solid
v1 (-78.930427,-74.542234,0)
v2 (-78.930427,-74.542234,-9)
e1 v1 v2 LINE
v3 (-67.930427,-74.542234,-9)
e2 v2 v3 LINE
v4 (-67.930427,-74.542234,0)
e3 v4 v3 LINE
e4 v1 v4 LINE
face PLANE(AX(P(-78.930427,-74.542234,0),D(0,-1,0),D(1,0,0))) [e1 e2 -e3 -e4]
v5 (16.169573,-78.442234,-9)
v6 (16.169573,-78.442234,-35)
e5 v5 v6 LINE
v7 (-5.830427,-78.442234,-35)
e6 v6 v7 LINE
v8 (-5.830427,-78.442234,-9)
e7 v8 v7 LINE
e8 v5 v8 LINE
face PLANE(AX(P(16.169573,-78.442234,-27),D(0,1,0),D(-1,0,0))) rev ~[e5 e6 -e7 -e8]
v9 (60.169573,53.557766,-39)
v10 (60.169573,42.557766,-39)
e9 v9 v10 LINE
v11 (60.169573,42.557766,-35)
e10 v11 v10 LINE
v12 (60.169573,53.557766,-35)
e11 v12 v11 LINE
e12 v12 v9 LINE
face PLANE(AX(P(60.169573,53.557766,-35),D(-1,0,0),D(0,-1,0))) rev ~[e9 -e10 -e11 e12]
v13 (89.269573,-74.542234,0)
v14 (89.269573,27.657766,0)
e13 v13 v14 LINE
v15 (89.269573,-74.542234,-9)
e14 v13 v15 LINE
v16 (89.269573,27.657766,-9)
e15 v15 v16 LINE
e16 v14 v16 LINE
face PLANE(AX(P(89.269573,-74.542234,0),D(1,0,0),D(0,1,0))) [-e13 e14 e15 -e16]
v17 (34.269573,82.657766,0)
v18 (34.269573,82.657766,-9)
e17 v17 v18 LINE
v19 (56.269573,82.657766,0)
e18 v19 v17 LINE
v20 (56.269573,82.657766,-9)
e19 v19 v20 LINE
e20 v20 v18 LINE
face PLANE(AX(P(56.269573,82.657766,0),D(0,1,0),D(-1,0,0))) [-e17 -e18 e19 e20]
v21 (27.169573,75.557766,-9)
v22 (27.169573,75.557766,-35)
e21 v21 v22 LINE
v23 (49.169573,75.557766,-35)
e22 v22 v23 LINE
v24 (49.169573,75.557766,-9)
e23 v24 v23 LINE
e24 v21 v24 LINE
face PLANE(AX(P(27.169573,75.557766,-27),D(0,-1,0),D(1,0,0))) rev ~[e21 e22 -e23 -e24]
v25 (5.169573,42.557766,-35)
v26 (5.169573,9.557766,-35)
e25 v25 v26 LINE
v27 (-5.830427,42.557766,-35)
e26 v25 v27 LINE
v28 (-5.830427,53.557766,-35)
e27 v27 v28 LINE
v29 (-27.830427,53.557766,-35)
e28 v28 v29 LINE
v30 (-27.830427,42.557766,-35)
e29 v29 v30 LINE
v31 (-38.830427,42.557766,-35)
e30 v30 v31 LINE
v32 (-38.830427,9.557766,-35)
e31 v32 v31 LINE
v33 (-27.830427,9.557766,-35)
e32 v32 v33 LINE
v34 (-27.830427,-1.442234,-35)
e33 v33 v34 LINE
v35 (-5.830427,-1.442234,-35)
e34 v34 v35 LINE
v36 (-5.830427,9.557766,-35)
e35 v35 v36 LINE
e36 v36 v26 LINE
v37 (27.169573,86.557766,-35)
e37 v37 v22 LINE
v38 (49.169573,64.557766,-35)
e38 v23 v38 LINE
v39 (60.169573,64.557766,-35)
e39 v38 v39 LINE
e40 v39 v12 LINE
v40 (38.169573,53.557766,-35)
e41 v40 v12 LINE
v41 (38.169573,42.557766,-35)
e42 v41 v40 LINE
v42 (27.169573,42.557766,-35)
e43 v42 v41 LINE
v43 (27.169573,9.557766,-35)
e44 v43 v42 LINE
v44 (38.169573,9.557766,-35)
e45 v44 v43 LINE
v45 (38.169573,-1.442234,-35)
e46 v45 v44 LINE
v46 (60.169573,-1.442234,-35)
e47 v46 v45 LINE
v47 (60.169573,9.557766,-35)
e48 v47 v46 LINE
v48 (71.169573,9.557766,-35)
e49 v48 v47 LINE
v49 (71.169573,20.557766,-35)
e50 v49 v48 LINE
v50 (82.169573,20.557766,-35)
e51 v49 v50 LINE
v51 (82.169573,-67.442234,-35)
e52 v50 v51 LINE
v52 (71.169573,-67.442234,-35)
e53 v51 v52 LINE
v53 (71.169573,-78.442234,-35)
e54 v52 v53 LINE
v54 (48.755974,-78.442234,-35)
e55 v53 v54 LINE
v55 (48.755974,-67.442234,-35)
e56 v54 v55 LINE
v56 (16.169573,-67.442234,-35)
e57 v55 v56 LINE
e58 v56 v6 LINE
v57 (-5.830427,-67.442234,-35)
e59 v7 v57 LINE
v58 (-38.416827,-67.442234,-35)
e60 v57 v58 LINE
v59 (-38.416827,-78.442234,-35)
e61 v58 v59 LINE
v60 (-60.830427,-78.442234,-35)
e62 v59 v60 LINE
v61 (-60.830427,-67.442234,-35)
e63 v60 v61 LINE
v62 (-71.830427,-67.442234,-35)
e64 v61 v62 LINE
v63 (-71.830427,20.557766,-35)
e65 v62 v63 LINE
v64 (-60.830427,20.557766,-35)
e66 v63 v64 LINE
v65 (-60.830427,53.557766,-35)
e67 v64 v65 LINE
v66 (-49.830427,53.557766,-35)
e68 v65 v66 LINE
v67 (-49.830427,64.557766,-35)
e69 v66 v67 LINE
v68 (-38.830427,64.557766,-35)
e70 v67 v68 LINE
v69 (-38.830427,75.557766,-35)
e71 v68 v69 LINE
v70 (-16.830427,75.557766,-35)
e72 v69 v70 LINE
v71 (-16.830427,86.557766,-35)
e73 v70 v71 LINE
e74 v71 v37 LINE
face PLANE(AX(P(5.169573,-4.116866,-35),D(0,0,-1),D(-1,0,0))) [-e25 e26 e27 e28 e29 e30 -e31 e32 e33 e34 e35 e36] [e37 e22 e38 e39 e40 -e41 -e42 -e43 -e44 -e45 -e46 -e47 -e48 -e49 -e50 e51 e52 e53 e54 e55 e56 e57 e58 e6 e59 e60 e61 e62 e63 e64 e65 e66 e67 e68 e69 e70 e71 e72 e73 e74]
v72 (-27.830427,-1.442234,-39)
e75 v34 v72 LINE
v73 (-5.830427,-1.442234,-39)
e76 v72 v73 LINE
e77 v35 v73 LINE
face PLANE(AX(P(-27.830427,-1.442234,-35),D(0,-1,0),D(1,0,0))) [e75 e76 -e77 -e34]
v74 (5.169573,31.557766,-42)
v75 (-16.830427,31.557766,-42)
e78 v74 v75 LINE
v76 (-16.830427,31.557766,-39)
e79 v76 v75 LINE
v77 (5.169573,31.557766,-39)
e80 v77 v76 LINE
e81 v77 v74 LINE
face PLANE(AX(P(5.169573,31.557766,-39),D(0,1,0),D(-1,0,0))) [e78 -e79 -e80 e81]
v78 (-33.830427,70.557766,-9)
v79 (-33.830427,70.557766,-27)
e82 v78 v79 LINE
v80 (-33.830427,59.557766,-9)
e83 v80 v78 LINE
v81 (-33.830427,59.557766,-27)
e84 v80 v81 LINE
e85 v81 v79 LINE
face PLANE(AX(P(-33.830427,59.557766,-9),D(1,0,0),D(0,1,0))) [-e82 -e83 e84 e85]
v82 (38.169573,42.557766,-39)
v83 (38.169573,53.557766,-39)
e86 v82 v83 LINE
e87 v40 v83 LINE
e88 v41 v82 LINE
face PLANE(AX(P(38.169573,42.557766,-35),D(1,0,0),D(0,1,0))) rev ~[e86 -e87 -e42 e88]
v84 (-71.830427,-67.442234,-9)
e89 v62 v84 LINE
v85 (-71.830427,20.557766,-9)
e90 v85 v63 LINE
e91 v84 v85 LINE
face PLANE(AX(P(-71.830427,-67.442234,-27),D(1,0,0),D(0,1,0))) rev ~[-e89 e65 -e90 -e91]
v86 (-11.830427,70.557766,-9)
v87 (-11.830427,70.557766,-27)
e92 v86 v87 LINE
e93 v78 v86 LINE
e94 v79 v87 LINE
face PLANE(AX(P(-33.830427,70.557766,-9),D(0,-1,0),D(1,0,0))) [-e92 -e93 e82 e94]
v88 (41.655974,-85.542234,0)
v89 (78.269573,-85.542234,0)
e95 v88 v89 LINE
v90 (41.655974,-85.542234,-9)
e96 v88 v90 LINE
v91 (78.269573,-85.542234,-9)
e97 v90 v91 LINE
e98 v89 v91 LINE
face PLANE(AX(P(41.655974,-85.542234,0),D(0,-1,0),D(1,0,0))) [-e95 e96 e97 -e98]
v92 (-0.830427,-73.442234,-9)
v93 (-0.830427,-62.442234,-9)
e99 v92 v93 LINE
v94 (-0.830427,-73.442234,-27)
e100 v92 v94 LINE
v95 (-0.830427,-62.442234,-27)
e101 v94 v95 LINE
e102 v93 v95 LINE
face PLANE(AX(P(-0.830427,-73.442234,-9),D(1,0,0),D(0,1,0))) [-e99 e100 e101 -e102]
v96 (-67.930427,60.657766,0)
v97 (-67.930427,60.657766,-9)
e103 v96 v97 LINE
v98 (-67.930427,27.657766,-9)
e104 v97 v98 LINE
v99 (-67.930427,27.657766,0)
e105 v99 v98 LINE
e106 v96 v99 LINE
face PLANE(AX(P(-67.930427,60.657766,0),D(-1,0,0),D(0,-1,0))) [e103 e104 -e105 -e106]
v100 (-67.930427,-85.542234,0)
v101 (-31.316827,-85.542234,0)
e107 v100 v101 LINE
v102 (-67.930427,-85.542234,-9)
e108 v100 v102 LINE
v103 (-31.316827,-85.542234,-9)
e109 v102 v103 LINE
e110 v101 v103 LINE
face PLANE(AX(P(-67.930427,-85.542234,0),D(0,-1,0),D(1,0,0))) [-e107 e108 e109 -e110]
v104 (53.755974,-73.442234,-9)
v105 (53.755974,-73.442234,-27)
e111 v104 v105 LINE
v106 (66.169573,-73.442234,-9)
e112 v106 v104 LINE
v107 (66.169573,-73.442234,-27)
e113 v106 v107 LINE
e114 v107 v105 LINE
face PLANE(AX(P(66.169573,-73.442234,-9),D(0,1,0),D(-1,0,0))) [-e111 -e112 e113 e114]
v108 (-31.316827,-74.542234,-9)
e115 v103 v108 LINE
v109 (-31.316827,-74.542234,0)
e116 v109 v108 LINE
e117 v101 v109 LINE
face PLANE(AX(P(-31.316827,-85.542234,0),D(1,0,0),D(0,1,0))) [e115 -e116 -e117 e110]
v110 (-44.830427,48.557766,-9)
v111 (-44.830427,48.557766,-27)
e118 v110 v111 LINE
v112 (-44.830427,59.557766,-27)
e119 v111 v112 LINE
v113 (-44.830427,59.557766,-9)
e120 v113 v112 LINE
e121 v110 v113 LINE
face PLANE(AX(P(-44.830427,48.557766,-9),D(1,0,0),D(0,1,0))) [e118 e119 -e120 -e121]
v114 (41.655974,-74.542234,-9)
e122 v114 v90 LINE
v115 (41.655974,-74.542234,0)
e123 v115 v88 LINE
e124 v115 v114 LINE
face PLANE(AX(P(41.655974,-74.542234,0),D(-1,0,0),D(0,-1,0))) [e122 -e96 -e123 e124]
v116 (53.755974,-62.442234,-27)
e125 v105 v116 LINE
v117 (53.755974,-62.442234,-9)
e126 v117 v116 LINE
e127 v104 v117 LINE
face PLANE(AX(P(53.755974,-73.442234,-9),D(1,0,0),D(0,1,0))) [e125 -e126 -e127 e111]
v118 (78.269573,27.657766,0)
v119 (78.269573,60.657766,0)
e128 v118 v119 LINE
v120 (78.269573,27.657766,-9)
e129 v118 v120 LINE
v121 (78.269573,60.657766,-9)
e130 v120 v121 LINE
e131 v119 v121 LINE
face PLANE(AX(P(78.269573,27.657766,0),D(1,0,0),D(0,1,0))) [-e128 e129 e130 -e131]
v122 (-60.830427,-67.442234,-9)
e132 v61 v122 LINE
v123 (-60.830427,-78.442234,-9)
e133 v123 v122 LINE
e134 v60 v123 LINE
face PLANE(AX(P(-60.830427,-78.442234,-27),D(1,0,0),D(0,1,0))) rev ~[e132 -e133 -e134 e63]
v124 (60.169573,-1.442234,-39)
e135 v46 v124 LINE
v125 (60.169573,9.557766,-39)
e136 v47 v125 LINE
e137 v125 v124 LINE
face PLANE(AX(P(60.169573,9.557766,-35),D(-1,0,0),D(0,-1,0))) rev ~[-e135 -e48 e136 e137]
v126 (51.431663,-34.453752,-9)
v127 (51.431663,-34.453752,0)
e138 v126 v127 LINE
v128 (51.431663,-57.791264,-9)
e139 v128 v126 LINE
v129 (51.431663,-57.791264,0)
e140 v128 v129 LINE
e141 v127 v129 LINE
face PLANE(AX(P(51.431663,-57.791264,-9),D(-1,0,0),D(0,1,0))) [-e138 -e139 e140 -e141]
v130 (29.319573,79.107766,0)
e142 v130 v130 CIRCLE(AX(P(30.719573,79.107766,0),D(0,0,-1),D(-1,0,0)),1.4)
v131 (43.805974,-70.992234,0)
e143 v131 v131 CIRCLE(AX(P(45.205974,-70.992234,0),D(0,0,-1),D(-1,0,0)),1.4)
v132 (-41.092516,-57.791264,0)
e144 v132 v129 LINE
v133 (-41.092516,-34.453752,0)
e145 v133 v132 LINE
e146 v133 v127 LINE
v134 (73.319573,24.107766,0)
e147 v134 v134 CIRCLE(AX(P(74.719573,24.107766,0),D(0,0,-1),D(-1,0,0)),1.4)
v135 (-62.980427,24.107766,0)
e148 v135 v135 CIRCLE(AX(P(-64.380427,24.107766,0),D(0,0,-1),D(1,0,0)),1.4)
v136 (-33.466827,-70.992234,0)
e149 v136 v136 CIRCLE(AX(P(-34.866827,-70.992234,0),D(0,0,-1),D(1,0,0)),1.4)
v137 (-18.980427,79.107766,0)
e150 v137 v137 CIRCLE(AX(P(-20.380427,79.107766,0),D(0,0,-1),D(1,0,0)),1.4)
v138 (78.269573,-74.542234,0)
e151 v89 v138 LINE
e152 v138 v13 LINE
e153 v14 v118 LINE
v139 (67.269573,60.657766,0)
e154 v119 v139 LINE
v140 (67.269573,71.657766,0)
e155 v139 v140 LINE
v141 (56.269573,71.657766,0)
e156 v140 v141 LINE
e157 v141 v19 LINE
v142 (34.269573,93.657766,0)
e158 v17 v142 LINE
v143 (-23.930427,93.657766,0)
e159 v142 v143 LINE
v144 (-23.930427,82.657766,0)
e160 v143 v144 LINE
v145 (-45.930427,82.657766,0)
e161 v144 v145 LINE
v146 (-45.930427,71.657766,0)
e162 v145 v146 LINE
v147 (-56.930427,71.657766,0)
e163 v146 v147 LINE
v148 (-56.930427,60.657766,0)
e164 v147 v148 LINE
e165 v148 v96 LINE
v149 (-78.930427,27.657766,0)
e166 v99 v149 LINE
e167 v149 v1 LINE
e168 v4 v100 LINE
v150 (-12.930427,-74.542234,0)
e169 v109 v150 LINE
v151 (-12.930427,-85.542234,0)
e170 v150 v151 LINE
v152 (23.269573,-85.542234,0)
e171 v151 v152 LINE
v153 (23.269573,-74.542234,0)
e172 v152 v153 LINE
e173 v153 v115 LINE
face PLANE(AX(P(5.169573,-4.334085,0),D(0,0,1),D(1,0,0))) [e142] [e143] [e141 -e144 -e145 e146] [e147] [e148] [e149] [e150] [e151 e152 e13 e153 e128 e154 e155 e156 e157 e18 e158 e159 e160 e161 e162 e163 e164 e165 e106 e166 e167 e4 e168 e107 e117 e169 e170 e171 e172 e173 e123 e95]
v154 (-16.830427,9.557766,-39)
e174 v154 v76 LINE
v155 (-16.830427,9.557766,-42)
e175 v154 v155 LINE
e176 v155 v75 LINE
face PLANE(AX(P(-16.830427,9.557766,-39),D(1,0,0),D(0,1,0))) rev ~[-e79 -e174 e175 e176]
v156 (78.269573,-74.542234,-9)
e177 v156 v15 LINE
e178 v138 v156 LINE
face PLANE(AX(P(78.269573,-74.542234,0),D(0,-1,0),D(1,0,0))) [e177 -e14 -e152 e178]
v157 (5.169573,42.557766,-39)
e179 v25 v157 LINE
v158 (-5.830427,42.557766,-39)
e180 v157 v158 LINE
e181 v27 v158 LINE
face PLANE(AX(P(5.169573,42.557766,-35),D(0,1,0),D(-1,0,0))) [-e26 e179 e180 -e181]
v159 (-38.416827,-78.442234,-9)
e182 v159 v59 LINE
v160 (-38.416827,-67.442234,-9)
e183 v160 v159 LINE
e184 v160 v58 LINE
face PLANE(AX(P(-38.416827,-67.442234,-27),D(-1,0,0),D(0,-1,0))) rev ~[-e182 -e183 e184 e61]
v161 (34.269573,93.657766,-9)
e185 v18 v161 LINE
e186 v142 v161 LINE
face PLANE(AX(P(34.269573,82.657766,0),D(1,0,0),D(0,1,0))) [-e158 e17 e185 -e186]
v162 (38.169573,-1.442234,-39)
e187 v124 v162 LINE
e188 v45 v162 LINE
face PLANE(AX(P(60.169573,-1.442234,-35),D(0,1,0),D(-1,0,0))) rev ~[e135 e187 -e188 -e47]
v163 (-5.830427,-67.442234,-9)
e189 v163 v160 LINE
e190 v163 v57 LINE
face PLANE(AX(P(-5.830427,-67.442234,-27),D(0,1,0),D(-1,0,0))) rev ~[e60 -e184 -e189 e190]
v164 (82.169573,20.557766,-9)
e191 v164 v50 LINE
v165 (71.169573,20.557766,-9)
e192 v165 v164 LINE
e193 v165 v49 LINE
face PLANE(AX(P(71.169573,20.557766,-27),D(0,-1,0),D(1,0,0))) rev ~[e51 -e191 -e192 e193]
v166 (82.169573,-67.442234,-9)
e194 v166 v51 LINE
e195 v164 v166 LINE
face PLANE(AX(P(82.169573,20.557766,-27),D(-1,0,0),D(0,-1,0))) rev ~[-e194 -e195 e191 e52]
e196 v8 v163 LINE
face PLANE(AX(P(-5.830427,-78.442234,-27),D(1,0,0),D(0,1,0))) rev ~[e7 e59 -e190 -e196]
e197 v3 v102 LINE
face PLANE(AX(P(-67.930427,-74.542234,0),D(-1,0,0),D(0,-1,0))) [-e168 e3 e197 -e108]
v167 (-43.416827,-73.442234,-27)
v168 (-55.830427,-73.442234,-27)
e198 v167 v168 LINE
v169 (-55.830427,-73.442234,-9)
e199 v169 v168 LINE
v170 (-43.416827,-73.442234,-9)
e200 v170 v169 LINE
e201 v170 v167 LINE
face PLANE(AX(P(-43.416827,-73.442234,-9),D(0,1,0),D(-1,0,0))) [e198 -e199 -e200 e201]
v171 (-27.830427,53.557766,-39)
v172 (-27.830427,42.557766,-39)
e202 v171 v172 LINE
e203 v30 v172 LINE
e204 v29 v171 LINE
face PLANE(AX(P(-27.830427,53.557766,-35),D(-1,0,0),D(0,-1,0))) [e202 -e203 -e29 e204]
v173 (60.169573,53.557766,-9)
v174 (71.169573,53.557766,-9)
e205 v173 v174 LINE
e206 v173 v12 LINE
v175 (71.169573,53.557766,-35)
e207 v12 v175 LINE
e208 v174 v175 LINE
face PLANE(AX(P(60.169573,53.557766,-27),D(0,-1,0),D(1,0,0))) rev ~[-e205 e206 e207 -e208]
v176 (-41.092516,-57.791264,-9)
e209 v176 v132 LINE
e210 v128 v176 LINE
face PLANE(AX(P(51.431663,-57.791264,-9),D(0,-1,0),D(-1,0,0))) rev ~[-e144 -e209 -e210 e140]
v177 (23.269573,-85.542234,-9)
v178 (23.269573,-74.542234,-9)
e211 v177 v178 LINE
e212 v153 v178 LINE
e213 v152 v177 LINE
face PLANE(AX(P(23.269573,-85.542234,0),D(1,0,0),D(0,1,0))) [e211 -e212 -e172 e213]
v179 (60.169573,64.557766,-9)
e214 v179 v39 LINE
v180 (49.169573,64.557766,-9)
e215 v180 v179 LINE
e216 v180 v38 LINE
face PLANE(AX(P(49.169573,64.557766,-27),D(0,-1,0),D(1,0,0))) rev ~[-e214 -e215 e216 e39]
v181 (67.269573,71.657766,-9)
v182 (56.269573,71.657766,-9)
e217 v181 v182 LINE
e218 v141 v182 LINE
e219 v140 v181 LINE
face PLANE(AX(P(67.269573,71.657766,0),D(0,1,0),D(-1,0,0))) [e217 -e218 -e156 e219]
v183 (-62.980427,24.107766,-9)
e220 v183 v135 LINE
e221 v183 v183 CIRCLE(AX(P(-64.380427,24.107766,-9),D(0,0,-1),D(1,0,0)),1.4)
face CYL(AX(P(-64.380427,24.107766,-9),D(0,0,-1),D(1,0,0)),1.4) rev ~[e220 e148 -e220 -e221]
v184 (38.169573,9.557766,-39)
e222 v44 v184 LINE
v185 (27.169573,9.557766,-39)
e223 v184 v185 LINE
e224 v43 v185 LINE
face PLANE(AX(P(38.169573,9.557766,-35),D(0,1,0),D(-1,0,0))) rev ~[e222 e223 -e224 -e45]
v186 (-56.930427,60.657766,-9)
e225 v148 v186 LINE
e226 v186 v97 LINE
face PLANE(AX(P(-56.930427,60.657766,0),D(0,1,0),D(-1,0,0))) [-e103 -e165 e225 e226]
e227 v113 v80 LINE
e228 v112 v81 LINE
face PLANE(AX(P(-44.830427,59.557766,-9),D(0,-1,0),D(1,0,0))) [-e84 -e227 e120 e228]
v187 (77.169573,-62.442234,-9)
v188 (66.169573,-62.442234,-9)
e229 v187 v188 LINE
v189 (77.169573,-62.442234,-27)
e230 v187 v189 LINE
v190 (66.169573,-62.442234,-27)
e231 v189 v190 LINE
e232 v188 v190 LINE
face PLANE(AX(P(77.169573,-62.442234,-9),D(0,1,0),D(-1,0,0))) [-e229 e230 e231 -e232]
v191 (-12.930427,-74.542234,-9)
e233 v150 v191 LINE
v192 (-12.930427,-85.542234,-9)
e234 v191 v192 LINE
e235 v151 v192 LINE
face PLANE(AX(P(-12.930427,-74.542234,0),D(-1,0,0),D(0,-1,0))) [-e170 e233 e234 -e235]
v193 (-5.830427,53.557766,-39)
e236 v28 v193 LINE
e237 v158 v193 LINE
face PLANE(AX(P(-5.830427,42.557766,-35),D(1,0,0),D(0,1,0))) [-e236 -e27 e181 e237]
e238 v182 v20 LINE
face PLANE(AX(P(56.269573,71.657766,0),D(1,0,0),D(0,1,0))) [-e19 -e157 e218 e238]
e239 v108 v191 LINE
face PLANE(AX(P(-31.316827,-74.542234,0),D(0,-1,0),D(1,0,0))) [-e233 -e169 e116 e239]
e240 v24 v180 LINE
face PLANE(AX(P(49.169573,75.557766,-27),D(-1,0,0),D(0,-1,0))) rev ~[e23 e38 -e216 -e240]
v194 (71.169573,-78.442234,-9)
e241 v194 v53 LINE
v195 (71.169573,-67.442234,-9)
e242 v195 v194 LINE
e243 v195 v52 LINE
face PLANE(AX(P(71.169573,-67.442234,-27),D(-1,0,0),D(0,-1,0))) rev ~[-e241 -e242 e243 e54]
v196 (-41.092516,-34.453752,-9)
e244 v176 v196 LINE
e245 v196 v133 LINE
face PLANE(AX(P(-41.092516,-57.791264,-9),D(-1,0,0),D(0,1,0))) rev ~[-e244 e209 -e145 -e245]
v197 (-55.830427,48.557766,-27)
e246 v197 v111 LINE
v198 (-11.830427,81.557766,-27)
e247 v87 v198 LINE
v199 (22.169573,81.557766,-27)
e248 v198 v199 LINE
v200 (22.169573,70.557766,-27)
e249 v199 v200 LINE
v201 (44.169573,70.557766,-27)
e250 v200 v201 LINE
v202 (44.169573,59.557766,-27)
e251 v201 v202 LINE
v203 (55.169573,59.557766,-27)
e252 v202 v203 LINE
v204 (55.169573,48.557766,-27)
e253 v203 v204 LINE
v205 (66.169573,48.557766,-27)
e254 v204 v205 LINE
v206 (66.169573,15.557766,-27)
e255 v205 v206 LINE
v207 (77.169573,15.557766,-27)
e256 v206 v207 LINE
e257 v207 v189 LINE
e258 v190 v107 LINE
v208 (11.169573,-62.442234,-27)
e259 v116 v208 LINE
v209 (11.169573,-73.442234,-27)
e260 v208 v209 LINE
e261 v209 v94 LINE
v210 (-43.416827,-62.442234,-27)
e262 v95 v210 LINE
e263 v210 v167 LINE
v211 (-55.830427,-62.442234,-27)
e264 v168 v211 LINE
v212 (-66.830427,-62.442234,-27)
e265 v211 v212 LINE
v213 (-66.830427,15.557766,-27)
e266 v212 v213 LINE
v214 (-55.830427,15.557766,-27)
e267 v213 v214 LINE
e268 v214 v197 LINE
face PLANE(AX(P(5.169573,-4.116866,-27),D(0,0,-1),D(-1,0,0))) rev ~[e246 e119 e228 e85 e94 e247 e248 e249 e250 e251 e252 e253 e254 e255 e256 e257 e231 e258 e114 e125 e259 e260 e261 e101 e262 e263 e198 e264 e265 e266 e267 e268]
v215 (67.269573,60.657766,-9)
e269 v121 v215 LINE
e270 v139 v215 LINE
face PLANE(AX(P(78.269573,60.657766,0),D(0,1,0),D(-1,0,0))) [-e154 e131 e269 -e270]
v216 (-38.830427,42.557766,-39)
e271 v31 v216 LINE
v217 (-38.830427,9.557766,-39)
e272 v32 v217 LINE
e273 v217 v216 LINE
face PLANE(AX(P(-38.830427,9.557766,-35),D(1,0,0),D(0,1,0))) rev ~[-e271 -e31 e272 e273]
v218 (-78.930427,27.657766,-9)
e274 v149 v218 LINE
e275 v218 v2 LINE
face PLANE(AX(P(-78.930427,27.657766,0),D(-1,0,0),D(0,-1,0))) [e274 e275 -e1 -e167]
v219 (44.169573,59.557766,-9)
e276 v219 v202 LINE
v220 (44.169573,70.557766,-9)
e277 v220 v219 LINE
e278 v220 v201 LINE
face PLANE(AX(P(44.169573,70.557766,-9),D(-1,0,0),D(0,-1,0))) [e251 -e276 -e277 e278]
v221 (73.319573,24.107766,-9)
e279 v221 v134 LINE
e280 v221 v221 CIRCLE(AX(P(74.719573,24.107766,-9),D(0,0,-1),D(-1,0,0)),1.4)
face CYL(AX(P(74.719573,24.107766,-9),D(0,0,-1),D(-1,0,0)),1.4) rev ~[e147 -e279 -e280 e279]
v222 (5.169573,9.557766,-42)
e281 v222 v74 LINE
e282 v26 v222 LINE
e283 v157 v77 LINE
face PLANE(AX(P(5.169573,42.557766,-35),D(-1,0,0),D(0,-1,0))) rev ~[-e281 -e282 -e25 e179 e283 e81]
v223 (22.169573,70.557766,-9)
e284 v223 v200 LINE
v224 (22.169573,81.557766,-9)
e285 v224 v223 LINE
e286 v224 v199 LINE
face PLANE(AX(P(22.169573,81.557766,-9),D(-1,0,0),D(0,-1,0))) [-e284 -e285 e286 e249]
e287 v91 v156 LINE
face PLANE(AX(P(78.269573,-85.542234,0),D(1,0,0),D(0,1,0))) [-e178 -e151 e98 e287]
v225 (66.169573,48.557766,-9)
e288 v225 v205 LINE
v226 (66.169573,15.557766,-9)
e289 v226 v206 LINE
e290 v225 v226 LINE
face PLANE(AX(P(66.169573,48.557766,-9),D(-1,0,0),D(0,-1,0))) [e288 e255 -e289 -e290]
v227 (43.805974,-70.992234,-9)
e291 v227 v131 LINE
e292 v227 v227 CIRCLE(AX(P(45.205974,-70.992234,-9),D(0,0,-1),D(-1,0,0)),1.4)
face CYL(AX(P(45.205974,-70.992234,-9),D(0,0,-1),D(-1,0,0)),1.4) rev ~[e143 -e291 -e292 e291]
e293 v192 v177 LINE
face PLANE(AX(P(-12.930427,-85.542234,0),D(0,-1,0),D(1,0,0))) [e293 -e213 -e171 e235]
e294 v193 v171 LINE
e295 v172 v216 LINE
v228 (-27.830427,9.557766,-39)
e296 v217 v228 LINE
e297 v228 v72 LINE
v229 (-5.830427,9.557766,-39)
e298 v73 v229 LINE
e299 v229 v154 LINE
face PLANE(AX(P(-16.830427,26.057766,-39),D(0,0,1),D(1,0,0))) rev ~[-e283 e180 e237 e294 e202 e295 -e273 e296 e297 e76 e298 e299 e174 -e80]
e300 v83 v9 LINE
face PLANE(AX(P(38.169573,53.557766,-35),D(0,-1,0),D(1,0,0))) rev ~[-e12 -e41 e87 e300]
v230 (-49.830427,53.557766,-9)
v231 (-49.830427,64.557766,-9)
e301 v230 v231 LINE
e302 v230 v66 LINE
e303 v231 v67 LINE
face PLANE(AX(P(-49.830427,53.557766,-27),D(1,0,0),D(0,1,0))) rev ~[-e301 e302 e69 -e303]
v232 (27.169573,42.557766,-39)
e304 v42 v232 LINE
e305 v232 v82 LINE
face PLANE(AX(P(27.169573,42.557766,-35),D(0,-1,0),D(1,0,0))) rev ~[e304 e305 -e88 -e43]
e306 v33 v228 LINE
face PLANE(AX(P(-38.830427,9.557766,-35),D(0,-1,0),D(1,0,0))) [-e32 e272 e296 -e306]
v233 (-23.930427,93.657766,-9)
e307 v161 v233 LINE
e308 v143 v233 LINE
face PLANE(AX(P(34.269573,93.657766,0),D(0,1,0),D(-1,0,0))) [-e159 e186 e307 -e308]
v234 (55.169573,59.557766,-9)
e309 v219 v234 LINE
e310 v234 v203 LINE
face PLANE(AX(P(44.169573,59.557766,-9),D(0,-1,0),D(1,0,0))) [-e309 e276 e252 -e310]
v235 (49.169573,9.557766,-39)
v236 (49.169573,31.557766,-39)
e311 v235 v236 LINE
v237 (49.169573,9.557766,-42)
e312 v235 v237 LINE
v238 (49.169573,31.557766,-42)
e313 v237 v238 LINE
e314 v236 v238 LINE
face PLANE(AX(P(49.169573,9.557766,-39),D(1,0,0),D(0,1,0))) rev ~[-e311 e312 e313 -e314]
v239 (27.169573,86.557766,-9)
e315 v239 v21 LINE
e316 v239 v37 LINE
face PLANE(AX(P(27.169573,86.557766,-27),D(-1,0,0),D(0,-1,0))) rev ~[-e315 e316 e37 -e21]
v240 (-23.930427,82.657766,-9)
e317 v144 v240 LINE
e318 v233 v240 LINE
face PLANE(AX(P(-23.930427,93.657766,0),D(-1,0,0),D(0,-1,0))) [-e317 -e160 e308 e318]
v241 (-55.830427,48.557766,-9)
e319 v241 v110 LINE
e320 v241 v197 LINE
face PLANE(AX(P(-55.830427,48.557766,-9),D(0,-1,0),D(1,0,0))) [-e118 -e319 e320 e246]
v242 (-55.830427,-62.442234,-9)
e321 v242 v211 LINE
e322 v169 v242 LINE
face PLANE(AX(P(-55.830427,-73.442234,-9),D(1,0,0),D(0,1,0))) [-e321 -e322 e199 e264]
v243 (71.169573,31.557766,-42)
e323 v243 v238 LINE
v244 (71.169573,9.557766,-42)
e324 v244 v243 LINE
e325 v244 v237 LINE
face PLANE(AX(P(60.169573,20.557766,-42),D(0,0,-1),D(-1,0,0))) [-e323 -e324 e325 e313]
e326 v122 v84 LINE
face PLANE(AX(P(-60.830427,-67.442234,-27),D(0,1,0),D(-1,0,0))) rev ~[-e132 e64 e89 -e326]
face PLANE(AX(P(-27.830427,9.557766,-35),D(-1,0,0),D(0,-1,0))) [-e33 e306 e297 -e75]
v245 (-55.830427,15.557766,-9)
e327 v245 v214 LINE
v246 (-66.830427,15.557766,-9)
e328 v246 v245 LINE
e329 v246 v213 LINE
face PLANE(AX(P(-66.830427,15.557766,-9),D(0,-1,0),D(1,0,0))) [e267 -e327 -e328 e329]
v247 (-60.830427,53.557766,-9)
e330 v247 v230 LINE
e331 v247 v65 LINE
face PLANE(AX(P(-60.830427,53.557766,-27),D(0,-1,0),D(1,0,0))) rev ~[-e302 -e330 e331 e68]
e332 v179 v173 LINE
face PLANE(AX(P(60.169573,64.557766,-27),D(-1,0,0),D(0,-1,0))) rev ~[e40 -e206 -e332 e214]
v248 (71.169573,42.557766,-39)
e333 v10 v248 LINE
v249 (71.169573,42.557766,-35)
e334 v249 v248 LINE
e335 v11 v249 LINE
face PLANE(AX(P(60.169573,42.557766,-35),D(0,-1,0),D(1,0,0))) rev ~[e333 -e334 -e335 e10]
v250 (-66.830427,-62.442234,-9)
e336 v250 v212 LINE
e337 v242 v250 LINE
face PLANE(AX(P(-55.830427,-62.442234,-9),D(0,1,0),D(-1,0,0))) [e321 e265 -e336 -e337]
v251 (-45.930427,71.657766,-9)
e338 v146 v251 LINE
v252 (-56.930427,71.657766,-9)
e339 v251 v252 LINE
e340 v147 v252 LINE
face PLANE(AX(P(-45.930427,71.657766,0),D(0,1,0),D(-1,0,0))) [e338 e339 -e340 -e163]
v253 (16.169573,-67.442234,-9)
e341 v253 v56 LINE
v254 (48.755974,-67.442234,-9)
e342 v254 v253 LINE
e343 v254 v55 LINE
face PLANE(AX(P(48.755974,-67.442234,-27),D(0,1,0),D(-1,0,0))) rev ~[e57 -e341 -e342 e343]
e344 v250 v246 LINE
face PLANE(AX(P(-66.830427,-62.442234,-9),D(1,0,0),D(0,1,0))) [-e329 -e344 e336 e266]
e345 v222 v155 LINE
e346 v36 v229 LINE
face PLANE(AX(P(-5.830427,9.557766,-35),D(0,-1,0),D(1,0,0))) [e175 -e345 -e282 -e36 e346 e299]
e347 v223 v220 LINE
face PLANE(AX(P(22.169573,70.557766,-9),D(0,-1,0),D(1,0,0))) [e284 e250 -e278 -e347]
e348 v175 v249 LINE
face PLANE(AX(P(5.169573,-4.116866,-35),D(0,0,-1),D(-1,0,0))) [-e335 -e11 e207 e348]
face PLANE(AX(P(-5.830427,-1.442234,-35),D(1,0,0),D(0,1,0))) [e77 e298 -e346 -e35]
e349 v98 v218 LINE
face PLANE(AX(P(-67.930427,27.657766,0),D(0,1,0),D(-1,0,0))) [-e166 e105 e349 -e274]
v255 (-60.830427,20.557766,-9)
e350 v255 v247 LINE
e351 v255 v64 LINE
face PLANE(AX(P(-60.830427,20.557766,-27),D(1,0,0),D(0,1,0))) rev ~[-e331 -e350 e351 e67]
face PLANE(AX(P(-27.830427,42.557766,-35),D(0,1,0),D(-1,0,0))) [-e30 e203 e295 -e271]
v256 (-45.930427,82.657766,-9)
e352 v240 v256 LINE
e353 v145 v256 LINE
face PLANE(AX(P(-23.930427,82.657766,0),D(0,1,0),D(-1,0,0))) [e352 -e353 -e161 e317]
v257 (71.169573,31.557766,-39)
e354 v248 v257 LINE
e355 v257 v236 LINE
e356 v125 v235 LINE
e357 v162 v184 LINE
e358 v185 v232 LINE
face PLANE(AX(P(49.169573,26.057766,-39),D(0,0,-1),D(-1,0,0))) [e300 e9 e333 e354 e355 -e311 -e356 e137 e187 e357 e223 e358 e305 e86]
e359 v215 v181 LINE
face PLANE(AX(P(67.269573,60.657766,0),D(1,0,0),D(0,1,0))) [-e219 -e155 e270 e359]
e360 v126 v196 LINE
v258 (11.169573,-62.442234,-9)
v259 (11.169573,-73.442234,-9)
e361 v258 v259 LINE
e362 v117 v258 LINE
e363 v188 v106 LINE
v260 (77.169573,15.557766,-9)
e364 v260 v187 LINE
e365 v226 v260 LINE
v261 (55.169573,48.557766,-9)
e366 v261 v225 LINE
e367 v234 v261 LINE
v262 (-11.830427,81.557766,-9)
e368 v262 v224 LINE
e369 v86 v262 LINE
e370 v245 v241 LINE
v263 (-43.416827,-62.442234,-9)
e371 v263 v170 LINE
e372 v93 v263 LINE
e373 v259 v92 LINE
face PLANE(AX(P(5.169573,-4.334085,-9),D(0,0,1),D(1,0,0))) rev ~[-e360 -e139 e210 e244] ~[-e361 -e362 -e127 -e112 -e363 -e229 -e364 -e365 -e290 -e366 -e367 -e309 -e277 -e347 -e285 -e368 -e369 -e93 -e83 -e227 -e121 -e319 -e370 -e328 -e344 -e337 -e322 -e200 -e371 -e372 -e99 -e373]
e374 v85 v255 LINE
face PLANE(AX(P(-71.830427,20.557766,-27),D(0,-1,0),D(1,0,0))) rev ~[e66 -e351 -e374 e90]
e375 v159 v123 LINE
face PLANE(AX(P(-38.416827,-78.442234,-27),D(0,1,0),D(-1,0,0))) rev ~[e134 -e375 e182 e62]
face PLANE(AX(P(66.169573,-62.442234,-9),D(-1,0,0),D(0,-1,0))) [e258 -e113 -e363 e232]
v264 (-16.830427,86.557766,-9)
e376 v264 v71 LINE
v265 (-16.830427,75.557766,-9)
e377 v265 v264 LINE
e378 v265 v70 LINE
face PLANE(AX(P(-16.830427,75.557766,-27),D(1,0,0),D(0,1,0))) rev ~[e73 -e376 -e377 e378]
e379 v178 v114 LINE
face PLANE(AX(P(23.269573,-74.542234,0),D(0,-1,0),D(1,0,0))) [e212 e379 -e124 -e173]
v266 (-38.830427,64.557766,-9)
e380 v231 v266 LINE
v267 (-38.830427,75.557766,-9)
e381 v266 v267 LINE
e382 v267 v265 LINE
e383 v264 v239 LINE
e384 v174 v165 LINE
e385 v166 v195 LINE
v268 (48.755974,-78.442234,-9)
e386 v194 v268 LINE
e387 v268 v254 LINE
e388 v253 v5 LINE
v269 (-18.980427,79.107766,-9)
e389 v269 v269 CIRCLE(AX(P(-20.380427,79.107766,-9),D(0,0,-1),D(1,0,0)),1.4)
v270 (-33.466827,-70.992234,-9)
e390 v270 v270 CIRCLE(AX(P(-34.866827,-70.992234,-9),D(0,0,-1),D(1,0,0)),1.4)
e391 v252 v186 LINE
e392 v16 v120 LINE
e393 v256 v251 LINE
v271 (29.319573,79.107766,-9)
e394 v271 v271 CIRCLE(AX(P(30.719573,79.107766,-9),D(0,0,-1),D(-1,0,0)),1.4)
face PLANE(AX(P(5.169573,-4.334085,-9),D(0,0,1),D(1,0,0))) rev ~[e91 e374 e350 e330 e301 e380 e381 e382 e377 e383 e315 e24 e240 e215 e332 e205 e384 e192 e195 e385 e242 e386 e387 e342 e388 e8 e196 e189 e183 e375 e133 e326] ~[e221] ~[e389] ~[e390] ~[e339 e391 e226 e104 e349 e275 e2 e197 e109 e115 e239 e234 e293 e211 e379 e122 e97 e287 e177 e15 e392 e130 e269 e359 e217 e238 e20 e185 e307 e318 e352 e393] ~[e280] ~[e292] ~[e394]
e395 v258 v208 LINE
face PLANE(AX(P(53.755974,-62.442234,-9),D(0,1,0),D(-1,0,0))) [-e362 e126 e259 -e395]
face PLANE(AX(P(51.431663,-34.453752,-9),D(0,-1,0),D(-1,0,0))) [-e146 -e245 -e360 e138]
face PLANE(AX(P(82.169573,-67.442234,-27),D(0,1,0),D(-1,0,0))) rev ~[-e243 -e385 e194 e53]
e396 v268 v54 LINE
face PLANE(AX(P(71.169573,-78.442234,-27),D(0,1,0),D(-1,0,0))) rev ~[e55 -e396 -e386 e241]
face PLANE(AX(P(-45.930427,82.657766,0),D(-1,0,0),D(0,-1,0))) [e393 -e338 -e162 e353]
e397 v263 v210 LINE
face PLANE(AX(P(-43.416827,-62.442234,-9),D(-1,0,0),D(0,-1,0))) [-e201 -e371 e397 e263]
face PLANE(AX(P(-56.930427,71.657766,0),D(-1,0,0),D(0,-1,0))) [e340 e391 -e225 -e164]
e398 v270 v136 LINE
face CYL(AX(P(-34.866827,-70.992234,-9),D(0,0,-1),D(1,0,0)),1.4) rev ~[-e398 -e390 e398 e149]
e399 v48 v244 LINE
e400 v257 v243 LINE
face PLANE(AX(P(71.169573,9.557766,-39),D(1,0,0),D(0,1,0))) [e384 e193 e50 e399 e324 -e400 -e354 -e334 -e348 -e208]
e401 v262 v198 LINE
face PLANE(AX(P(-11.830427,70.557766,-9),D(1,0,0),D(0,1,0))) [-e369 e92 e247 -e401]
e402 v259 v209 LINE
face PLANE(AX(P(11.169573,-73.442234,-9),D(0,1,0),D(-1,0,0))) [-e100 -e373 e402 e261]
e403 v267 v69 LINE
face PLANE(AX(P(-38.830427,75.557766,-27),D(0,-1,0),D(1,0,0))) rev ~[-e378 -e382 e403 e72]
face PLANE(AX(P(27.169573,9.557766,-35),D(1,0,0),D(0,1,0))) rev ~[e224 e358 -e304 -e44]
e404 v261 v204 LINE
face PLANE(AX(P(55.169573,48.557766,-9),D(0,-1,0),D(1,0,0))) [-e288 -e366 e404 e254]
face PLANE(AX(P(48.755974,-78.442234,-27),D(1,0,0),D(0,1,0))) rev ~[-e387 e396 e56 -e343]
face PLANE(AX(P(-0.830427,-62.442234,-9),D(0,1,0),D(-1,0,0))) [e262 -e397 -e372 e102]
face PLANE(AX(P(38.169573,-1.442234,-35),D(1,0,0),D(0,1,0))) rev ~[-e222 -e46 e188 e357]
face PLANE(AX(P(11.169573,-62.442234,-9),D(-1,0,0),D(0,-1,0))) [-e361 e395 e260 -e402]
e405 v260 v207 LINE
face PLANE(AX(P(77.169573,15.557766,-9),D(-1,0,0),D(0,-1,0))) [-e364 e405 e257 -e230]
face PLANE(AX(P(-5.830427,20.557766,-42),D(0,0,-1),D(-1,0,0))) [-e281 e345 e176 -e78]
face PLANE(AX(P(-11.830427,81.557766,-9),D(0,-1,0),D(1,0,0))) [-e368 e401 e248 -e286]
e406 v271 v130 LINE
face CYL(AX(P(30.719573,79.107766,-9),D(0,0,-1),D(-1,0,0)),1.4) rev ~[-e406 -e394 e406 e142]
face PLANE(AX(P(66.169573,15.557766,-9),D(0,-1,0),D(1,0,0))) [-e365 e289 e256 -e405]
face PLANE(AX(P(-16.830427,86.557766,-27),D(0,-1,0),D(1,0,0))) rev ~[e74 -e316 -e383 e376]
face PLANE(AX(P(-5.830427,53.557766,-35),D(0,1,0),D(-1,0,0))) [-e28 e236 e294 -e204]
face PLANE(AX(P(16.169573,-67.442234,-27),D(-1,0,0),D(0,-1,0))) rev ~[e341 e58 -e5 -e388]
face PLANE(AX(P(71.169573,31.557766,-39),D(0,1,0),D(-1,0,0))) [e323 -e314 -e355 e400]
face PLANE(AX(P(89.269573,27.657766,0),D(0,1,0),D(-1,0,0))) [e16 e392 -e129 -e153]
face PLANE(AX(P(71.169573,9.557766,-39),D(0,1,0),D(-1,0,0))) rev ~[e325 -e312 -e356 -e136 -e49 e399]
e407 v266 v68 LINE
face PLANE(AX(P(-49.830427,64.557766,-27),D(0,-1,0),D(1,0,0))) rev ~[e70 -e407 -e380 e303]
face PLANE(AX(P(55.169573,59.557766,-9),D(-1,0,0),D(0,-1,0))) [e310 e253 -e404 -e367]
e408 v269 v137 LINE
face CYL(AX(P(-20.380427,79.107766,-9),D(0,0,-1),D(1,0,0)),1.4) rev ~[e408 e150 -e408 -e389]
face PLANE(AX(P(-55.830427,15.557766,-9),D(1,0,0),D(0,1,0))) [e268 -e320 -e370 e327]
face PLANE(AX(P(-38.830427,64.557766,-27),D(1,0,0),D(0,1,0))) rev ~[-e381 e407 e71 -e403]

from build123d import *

# Parameters (mm, degrees)
SALIENTE_EXTRUIR1_DEPTH = 9
CROQUIS4_W              = 92.524179437
CROQUIS4_H              = 23.337512491
CROQUIS4_R              = 1.4
CORTAR_EXTRUIR1_DEPTH   = 130.69901246
SALIENTE_EXTRUIR2_DEPTH = 18
SALIENTE_EXTRUIR3_DEPTH = 8
SALIENTE_EXTRUIR4_DEPTH = 4
CROQUIS9_W              = 22
CROQUIS9_H              = 22
SALIENTE_EXTRUIR5_DEPTH = 3


with BuildPart() as part:
    # Croquis3 → Saliente-Extruir1 (new body)
    with BuildSketch(Plane.XY):
        Polygon((-78.930426729, 27.657765941), (-78.930426729, -74.542234059), (-67.930426729, -74.542234059), (-67.930426729, -85.542234059), (-31.316827161, -85.542234059), (-31.316827161, -74.542234059), (-12.930426729, -74.542234059), (-12.930426729, -85.542234059), (23.269573271, -85.542234059), (23.269573271, -74.542234059), (41.655973703, -74.542234059), (41.655973703, -85.542234059), (78.269573271, -85.542234059), (78.269573271, -74.542234059), (89.269573271, -74.542234059), (89.269573271, 27.657765941), (78.269573271, 27.657765941), (78.269573271, 60.657765941), (67.269573271, 60.657765941), (67.269573271, 71.657765942), (56.269573271, 71.657765942), (56.269573271, 82.657765942), (34.269573271, 82.657765942), (34.269573271, 93.657765942), (-23.930426729, 93.657765942), (-23.930426729, 82.657765942), (-45.930426729, 82.657765942), (-45.930426729, 71.657765942), (-56.930426729, 71.657765942), (-56.930426729, 60.657765941), (-67.930426729, 60.657765941), (-67.930426729, 27.657765941), align=None)
    extrude(amount=-SALIENTE_EXTRUIR1_DEPTH)

    # Croquis4 → Cortar-Extruir1 (cut, through all)
    with BuildSketch(Plane(origin=(0, 0, -9), x_dir=(-1, 0, 0), z_dir=(0, 0, -1))):
        with Locations((-5.16957327, -46.12250801)):
            Rectangle(CROQUIS4_W, CROQUIS4_H)
        with Locations((-74.719573271, 24.107765941)):
            Circle(CROQUIS4_R)
        with Locations((-30.719573271, 79.107765942)):
            Circle(CROQUIS4_R)
        with Locations(Location((20.380426729, 79.107765942, 0), (0, 0, 180))):
            Circle(CROQUIS4_R)
        with Locations(Location((34.866827161, -70.992234059, 0), (0, 0, 180))):
            Circle(CROQUIS4_R)
        with Locations(Location((64.380426729, 24.107765941, 0), (0, 0, 180))):
            Circle(CROQUIS4_R)
        with Locations((-45.205973703, -70.992234059)):
            Circle(CROQUIS4_R)
    extrude(amount=-CORTAR_EXTRUIR1_DEPTH, mode=Mode.SUBTRACT)

    # Croquis5 → Saliente-Extruir2 (add)
    with BuildSketch(Plane(origin=(0, 0, -9), x_dir=(-1, 0, 0), z_dir=(0, 0, -1))):
        Polygon((71.830426729, 20.557765941), (60.830426729, 20.557765941), (60.830426729, 53.557765941), (49.830426729, 53.557765941), (49.830426729, 64.557765942), (38.830426729, 64.557765942), (38.830426729, 75.557765942), (16.830426729, 75.557765942), (16.830426729, 86.557765942), (-27.169573271, 86.557765942), (-27.169573271, 75.557765942), (-49.169573271, 75.557765942), (-49.169573271, 64.557765942), (-60.169573271, 64.557765942), (-60.169573271, 53.557765941), (-71.169573271, 53.557765941), (-71.169573271, 20.557765941), (-82.169573271, 20.557765941), (-82.169573271, -67.442234059), (-71.169573271, -67.442234059), (-71.169573271, -78.442234059), (-48.755973703, -78.442234059), (-48.755973703, -67.442234059), (-16.169573271, -67.442234059), (-16.169573271, -78.442234059), (5.830426729, -78.442234059), (5.830426729, -67.442234059), (38.416827161, -67.442234059), (38.416827161, -78.442234059), (60.830426729, -78.442234059), (60.830426729, -67.442234059), (71.830426729, -67.442234059), align=None)
        Polygon((-66.169573271, 48.557765941), (-66.169573271, 15.557765941), (-77.169573271, 15.557765941), (-77.169573271, -62.442234059), (-66.169573271, -62.442234059), (-66.169573271, -73.442234059), (-53.755973703, -73.442234059), (-53.755973703, -62.442234059), (-11.169573271, -62.442234059), (-11.169573271, -73.442234059), (0.830426729, -73.442234059), (0.830426729, -62.442234059), (43.416827161, -62.442234059), (43.416827161, -73.442234059), (55.830426729, -73.442234059), (55.830426729, -62.442234059), (66.830426729, -62.442234059), (66.830426729, 15.557765941), (55.830426729, 15.557765941), (55.830426729, 48.557765941), (44.830426729, 48.557765941), (44.830426729, 59.557765942), (33.830426729, 59.557765942), (33.830426729, 70.557765942), (11.830426729, 70.557765942), (11.830426729, 81.557765942), (-22.169573271, 81.557765942), (-22.169573271, 70.557765942), (-44.169573271, 70.557765942), (-44.169573271, 59.557765942), (-55.169573271, 59.557765942), (-55.169573271, 48.557765941), align=None, mode=Mode.SUBTRACT)
    extrude(amount=SALIENTE_EXTRUIR2_DEPTH)

    # Croquis7 → Saliente-Extruir3 (add)
    with BuildSketch(Plane(origin=(0, 0, -27), x_dir=(-1, 0, 0), z_dir=(0, 0, -1))):
        Polygon((71.830426729, -67.442234059), (71.830426729, 20.557765941), (60.830426729, 20.557765941), (60.830426729, 53.557765941), (49.830426729, 53.557765941), (49.830426729, 64.557765942), (38.830426729, 64.557765942), (38.830426729, 75.557765942), (16.830426729, 75.557765942), (16.830426729, 86.557765942), (-27.169573271, 86.557765942), (-27.169573271, 75.557765942), (-49.169573271, 75.557765942), (-49.169573271, 64.557765942), (-60.169573271, 64.557765942), (-60.169573271, 53.557765941), (-71.169573271, 53.557765941), (-71.169573271, 20.557765941), (-82.169573271, 20.557765941), (-82.169573271, -67.442234059), (-71.169573271, -67.442234059), (-71.169573271, -78.442234059), (-48.755973703, -78.442234059), (-48.755973703, -67.442234059), (-16.169573271, -67.442234059), (-16.169573271, -78.442234059), (5.830426729, -78.442234059), (5.830426729, -67.442234059), (38.416827161, -67.442234059), (38.416827161, -78.442234059), (60.830426729, -78.442234059), (60.830426729, -67.442234059), align=None)
    extrude(amount=SALIENTE_EXTRUIR3_DEPTH)

    # Croquis8 → Saliente-Extruir4 (add)
    with BuildSketch(Plane(origin=(0, 0, -35), x_dir=(-1, 0, 0), z_dir=(0, 0, -1))):
        Polygon((-71.169573271, 20.557765941), (-71.169573271, 9.557765941), (-60.169573271, 9.557765941), (-60.169573271, -1.442234059), (-38.169573271, -1.442234059), (-38.169573271, 9.557765941), (-27.169573271, 9.557765941), (-27.169573271, 20.557765941), (-27.169573271, 42.557765941), (-38.169573271, 42.557765941), (-38.169573271, 53.557765941), (-60.169573271, 53.557765941), (-60.169573271, 42.557765941), (-71.169573271, 42.557765941), align=None)
        Polygon((38.830426729, 20.557765941), (38.830426729, 9.557765941), (27.830426729, 9.557765941), (27.830426729, -1.442234059), (5.830426729, -1.442234059), (5.830426729, 9.557765941), (-5.169573271, 9.557765941), (-5.169573271, 20.557765941), (-5.169573271, 42.557765941), (5.830426729, 42.557765941), (5.830426729, 53.557765941), (27.830426729, 53.557765941), (27.830426729, 42.557765941), (38.830426729, 42.557765941), align=None)
    extrude(amount=SALIENTE_EXTRUIR4_DEPTH)

    # Croquis9 → Saliente-Extruir5 (add)
    with BuildSketch(Plane(origin=(0, 0, -39), x_dir=(-1, 0, 0), z_dir=(0, 0, -1))):
        with Locations((-60.169573271, 20.557765941)):
            Rectangle(CROQUIS9_W, CROQUIS9_H)
        with Locations((5.830426729, 20.557765941)):
            Rectangle(CROQUIS9_W, CROQUIS9_H)
    extrude(amount=SALIENTE_EXTRUIR5_DEPTH)


solid = part.part
